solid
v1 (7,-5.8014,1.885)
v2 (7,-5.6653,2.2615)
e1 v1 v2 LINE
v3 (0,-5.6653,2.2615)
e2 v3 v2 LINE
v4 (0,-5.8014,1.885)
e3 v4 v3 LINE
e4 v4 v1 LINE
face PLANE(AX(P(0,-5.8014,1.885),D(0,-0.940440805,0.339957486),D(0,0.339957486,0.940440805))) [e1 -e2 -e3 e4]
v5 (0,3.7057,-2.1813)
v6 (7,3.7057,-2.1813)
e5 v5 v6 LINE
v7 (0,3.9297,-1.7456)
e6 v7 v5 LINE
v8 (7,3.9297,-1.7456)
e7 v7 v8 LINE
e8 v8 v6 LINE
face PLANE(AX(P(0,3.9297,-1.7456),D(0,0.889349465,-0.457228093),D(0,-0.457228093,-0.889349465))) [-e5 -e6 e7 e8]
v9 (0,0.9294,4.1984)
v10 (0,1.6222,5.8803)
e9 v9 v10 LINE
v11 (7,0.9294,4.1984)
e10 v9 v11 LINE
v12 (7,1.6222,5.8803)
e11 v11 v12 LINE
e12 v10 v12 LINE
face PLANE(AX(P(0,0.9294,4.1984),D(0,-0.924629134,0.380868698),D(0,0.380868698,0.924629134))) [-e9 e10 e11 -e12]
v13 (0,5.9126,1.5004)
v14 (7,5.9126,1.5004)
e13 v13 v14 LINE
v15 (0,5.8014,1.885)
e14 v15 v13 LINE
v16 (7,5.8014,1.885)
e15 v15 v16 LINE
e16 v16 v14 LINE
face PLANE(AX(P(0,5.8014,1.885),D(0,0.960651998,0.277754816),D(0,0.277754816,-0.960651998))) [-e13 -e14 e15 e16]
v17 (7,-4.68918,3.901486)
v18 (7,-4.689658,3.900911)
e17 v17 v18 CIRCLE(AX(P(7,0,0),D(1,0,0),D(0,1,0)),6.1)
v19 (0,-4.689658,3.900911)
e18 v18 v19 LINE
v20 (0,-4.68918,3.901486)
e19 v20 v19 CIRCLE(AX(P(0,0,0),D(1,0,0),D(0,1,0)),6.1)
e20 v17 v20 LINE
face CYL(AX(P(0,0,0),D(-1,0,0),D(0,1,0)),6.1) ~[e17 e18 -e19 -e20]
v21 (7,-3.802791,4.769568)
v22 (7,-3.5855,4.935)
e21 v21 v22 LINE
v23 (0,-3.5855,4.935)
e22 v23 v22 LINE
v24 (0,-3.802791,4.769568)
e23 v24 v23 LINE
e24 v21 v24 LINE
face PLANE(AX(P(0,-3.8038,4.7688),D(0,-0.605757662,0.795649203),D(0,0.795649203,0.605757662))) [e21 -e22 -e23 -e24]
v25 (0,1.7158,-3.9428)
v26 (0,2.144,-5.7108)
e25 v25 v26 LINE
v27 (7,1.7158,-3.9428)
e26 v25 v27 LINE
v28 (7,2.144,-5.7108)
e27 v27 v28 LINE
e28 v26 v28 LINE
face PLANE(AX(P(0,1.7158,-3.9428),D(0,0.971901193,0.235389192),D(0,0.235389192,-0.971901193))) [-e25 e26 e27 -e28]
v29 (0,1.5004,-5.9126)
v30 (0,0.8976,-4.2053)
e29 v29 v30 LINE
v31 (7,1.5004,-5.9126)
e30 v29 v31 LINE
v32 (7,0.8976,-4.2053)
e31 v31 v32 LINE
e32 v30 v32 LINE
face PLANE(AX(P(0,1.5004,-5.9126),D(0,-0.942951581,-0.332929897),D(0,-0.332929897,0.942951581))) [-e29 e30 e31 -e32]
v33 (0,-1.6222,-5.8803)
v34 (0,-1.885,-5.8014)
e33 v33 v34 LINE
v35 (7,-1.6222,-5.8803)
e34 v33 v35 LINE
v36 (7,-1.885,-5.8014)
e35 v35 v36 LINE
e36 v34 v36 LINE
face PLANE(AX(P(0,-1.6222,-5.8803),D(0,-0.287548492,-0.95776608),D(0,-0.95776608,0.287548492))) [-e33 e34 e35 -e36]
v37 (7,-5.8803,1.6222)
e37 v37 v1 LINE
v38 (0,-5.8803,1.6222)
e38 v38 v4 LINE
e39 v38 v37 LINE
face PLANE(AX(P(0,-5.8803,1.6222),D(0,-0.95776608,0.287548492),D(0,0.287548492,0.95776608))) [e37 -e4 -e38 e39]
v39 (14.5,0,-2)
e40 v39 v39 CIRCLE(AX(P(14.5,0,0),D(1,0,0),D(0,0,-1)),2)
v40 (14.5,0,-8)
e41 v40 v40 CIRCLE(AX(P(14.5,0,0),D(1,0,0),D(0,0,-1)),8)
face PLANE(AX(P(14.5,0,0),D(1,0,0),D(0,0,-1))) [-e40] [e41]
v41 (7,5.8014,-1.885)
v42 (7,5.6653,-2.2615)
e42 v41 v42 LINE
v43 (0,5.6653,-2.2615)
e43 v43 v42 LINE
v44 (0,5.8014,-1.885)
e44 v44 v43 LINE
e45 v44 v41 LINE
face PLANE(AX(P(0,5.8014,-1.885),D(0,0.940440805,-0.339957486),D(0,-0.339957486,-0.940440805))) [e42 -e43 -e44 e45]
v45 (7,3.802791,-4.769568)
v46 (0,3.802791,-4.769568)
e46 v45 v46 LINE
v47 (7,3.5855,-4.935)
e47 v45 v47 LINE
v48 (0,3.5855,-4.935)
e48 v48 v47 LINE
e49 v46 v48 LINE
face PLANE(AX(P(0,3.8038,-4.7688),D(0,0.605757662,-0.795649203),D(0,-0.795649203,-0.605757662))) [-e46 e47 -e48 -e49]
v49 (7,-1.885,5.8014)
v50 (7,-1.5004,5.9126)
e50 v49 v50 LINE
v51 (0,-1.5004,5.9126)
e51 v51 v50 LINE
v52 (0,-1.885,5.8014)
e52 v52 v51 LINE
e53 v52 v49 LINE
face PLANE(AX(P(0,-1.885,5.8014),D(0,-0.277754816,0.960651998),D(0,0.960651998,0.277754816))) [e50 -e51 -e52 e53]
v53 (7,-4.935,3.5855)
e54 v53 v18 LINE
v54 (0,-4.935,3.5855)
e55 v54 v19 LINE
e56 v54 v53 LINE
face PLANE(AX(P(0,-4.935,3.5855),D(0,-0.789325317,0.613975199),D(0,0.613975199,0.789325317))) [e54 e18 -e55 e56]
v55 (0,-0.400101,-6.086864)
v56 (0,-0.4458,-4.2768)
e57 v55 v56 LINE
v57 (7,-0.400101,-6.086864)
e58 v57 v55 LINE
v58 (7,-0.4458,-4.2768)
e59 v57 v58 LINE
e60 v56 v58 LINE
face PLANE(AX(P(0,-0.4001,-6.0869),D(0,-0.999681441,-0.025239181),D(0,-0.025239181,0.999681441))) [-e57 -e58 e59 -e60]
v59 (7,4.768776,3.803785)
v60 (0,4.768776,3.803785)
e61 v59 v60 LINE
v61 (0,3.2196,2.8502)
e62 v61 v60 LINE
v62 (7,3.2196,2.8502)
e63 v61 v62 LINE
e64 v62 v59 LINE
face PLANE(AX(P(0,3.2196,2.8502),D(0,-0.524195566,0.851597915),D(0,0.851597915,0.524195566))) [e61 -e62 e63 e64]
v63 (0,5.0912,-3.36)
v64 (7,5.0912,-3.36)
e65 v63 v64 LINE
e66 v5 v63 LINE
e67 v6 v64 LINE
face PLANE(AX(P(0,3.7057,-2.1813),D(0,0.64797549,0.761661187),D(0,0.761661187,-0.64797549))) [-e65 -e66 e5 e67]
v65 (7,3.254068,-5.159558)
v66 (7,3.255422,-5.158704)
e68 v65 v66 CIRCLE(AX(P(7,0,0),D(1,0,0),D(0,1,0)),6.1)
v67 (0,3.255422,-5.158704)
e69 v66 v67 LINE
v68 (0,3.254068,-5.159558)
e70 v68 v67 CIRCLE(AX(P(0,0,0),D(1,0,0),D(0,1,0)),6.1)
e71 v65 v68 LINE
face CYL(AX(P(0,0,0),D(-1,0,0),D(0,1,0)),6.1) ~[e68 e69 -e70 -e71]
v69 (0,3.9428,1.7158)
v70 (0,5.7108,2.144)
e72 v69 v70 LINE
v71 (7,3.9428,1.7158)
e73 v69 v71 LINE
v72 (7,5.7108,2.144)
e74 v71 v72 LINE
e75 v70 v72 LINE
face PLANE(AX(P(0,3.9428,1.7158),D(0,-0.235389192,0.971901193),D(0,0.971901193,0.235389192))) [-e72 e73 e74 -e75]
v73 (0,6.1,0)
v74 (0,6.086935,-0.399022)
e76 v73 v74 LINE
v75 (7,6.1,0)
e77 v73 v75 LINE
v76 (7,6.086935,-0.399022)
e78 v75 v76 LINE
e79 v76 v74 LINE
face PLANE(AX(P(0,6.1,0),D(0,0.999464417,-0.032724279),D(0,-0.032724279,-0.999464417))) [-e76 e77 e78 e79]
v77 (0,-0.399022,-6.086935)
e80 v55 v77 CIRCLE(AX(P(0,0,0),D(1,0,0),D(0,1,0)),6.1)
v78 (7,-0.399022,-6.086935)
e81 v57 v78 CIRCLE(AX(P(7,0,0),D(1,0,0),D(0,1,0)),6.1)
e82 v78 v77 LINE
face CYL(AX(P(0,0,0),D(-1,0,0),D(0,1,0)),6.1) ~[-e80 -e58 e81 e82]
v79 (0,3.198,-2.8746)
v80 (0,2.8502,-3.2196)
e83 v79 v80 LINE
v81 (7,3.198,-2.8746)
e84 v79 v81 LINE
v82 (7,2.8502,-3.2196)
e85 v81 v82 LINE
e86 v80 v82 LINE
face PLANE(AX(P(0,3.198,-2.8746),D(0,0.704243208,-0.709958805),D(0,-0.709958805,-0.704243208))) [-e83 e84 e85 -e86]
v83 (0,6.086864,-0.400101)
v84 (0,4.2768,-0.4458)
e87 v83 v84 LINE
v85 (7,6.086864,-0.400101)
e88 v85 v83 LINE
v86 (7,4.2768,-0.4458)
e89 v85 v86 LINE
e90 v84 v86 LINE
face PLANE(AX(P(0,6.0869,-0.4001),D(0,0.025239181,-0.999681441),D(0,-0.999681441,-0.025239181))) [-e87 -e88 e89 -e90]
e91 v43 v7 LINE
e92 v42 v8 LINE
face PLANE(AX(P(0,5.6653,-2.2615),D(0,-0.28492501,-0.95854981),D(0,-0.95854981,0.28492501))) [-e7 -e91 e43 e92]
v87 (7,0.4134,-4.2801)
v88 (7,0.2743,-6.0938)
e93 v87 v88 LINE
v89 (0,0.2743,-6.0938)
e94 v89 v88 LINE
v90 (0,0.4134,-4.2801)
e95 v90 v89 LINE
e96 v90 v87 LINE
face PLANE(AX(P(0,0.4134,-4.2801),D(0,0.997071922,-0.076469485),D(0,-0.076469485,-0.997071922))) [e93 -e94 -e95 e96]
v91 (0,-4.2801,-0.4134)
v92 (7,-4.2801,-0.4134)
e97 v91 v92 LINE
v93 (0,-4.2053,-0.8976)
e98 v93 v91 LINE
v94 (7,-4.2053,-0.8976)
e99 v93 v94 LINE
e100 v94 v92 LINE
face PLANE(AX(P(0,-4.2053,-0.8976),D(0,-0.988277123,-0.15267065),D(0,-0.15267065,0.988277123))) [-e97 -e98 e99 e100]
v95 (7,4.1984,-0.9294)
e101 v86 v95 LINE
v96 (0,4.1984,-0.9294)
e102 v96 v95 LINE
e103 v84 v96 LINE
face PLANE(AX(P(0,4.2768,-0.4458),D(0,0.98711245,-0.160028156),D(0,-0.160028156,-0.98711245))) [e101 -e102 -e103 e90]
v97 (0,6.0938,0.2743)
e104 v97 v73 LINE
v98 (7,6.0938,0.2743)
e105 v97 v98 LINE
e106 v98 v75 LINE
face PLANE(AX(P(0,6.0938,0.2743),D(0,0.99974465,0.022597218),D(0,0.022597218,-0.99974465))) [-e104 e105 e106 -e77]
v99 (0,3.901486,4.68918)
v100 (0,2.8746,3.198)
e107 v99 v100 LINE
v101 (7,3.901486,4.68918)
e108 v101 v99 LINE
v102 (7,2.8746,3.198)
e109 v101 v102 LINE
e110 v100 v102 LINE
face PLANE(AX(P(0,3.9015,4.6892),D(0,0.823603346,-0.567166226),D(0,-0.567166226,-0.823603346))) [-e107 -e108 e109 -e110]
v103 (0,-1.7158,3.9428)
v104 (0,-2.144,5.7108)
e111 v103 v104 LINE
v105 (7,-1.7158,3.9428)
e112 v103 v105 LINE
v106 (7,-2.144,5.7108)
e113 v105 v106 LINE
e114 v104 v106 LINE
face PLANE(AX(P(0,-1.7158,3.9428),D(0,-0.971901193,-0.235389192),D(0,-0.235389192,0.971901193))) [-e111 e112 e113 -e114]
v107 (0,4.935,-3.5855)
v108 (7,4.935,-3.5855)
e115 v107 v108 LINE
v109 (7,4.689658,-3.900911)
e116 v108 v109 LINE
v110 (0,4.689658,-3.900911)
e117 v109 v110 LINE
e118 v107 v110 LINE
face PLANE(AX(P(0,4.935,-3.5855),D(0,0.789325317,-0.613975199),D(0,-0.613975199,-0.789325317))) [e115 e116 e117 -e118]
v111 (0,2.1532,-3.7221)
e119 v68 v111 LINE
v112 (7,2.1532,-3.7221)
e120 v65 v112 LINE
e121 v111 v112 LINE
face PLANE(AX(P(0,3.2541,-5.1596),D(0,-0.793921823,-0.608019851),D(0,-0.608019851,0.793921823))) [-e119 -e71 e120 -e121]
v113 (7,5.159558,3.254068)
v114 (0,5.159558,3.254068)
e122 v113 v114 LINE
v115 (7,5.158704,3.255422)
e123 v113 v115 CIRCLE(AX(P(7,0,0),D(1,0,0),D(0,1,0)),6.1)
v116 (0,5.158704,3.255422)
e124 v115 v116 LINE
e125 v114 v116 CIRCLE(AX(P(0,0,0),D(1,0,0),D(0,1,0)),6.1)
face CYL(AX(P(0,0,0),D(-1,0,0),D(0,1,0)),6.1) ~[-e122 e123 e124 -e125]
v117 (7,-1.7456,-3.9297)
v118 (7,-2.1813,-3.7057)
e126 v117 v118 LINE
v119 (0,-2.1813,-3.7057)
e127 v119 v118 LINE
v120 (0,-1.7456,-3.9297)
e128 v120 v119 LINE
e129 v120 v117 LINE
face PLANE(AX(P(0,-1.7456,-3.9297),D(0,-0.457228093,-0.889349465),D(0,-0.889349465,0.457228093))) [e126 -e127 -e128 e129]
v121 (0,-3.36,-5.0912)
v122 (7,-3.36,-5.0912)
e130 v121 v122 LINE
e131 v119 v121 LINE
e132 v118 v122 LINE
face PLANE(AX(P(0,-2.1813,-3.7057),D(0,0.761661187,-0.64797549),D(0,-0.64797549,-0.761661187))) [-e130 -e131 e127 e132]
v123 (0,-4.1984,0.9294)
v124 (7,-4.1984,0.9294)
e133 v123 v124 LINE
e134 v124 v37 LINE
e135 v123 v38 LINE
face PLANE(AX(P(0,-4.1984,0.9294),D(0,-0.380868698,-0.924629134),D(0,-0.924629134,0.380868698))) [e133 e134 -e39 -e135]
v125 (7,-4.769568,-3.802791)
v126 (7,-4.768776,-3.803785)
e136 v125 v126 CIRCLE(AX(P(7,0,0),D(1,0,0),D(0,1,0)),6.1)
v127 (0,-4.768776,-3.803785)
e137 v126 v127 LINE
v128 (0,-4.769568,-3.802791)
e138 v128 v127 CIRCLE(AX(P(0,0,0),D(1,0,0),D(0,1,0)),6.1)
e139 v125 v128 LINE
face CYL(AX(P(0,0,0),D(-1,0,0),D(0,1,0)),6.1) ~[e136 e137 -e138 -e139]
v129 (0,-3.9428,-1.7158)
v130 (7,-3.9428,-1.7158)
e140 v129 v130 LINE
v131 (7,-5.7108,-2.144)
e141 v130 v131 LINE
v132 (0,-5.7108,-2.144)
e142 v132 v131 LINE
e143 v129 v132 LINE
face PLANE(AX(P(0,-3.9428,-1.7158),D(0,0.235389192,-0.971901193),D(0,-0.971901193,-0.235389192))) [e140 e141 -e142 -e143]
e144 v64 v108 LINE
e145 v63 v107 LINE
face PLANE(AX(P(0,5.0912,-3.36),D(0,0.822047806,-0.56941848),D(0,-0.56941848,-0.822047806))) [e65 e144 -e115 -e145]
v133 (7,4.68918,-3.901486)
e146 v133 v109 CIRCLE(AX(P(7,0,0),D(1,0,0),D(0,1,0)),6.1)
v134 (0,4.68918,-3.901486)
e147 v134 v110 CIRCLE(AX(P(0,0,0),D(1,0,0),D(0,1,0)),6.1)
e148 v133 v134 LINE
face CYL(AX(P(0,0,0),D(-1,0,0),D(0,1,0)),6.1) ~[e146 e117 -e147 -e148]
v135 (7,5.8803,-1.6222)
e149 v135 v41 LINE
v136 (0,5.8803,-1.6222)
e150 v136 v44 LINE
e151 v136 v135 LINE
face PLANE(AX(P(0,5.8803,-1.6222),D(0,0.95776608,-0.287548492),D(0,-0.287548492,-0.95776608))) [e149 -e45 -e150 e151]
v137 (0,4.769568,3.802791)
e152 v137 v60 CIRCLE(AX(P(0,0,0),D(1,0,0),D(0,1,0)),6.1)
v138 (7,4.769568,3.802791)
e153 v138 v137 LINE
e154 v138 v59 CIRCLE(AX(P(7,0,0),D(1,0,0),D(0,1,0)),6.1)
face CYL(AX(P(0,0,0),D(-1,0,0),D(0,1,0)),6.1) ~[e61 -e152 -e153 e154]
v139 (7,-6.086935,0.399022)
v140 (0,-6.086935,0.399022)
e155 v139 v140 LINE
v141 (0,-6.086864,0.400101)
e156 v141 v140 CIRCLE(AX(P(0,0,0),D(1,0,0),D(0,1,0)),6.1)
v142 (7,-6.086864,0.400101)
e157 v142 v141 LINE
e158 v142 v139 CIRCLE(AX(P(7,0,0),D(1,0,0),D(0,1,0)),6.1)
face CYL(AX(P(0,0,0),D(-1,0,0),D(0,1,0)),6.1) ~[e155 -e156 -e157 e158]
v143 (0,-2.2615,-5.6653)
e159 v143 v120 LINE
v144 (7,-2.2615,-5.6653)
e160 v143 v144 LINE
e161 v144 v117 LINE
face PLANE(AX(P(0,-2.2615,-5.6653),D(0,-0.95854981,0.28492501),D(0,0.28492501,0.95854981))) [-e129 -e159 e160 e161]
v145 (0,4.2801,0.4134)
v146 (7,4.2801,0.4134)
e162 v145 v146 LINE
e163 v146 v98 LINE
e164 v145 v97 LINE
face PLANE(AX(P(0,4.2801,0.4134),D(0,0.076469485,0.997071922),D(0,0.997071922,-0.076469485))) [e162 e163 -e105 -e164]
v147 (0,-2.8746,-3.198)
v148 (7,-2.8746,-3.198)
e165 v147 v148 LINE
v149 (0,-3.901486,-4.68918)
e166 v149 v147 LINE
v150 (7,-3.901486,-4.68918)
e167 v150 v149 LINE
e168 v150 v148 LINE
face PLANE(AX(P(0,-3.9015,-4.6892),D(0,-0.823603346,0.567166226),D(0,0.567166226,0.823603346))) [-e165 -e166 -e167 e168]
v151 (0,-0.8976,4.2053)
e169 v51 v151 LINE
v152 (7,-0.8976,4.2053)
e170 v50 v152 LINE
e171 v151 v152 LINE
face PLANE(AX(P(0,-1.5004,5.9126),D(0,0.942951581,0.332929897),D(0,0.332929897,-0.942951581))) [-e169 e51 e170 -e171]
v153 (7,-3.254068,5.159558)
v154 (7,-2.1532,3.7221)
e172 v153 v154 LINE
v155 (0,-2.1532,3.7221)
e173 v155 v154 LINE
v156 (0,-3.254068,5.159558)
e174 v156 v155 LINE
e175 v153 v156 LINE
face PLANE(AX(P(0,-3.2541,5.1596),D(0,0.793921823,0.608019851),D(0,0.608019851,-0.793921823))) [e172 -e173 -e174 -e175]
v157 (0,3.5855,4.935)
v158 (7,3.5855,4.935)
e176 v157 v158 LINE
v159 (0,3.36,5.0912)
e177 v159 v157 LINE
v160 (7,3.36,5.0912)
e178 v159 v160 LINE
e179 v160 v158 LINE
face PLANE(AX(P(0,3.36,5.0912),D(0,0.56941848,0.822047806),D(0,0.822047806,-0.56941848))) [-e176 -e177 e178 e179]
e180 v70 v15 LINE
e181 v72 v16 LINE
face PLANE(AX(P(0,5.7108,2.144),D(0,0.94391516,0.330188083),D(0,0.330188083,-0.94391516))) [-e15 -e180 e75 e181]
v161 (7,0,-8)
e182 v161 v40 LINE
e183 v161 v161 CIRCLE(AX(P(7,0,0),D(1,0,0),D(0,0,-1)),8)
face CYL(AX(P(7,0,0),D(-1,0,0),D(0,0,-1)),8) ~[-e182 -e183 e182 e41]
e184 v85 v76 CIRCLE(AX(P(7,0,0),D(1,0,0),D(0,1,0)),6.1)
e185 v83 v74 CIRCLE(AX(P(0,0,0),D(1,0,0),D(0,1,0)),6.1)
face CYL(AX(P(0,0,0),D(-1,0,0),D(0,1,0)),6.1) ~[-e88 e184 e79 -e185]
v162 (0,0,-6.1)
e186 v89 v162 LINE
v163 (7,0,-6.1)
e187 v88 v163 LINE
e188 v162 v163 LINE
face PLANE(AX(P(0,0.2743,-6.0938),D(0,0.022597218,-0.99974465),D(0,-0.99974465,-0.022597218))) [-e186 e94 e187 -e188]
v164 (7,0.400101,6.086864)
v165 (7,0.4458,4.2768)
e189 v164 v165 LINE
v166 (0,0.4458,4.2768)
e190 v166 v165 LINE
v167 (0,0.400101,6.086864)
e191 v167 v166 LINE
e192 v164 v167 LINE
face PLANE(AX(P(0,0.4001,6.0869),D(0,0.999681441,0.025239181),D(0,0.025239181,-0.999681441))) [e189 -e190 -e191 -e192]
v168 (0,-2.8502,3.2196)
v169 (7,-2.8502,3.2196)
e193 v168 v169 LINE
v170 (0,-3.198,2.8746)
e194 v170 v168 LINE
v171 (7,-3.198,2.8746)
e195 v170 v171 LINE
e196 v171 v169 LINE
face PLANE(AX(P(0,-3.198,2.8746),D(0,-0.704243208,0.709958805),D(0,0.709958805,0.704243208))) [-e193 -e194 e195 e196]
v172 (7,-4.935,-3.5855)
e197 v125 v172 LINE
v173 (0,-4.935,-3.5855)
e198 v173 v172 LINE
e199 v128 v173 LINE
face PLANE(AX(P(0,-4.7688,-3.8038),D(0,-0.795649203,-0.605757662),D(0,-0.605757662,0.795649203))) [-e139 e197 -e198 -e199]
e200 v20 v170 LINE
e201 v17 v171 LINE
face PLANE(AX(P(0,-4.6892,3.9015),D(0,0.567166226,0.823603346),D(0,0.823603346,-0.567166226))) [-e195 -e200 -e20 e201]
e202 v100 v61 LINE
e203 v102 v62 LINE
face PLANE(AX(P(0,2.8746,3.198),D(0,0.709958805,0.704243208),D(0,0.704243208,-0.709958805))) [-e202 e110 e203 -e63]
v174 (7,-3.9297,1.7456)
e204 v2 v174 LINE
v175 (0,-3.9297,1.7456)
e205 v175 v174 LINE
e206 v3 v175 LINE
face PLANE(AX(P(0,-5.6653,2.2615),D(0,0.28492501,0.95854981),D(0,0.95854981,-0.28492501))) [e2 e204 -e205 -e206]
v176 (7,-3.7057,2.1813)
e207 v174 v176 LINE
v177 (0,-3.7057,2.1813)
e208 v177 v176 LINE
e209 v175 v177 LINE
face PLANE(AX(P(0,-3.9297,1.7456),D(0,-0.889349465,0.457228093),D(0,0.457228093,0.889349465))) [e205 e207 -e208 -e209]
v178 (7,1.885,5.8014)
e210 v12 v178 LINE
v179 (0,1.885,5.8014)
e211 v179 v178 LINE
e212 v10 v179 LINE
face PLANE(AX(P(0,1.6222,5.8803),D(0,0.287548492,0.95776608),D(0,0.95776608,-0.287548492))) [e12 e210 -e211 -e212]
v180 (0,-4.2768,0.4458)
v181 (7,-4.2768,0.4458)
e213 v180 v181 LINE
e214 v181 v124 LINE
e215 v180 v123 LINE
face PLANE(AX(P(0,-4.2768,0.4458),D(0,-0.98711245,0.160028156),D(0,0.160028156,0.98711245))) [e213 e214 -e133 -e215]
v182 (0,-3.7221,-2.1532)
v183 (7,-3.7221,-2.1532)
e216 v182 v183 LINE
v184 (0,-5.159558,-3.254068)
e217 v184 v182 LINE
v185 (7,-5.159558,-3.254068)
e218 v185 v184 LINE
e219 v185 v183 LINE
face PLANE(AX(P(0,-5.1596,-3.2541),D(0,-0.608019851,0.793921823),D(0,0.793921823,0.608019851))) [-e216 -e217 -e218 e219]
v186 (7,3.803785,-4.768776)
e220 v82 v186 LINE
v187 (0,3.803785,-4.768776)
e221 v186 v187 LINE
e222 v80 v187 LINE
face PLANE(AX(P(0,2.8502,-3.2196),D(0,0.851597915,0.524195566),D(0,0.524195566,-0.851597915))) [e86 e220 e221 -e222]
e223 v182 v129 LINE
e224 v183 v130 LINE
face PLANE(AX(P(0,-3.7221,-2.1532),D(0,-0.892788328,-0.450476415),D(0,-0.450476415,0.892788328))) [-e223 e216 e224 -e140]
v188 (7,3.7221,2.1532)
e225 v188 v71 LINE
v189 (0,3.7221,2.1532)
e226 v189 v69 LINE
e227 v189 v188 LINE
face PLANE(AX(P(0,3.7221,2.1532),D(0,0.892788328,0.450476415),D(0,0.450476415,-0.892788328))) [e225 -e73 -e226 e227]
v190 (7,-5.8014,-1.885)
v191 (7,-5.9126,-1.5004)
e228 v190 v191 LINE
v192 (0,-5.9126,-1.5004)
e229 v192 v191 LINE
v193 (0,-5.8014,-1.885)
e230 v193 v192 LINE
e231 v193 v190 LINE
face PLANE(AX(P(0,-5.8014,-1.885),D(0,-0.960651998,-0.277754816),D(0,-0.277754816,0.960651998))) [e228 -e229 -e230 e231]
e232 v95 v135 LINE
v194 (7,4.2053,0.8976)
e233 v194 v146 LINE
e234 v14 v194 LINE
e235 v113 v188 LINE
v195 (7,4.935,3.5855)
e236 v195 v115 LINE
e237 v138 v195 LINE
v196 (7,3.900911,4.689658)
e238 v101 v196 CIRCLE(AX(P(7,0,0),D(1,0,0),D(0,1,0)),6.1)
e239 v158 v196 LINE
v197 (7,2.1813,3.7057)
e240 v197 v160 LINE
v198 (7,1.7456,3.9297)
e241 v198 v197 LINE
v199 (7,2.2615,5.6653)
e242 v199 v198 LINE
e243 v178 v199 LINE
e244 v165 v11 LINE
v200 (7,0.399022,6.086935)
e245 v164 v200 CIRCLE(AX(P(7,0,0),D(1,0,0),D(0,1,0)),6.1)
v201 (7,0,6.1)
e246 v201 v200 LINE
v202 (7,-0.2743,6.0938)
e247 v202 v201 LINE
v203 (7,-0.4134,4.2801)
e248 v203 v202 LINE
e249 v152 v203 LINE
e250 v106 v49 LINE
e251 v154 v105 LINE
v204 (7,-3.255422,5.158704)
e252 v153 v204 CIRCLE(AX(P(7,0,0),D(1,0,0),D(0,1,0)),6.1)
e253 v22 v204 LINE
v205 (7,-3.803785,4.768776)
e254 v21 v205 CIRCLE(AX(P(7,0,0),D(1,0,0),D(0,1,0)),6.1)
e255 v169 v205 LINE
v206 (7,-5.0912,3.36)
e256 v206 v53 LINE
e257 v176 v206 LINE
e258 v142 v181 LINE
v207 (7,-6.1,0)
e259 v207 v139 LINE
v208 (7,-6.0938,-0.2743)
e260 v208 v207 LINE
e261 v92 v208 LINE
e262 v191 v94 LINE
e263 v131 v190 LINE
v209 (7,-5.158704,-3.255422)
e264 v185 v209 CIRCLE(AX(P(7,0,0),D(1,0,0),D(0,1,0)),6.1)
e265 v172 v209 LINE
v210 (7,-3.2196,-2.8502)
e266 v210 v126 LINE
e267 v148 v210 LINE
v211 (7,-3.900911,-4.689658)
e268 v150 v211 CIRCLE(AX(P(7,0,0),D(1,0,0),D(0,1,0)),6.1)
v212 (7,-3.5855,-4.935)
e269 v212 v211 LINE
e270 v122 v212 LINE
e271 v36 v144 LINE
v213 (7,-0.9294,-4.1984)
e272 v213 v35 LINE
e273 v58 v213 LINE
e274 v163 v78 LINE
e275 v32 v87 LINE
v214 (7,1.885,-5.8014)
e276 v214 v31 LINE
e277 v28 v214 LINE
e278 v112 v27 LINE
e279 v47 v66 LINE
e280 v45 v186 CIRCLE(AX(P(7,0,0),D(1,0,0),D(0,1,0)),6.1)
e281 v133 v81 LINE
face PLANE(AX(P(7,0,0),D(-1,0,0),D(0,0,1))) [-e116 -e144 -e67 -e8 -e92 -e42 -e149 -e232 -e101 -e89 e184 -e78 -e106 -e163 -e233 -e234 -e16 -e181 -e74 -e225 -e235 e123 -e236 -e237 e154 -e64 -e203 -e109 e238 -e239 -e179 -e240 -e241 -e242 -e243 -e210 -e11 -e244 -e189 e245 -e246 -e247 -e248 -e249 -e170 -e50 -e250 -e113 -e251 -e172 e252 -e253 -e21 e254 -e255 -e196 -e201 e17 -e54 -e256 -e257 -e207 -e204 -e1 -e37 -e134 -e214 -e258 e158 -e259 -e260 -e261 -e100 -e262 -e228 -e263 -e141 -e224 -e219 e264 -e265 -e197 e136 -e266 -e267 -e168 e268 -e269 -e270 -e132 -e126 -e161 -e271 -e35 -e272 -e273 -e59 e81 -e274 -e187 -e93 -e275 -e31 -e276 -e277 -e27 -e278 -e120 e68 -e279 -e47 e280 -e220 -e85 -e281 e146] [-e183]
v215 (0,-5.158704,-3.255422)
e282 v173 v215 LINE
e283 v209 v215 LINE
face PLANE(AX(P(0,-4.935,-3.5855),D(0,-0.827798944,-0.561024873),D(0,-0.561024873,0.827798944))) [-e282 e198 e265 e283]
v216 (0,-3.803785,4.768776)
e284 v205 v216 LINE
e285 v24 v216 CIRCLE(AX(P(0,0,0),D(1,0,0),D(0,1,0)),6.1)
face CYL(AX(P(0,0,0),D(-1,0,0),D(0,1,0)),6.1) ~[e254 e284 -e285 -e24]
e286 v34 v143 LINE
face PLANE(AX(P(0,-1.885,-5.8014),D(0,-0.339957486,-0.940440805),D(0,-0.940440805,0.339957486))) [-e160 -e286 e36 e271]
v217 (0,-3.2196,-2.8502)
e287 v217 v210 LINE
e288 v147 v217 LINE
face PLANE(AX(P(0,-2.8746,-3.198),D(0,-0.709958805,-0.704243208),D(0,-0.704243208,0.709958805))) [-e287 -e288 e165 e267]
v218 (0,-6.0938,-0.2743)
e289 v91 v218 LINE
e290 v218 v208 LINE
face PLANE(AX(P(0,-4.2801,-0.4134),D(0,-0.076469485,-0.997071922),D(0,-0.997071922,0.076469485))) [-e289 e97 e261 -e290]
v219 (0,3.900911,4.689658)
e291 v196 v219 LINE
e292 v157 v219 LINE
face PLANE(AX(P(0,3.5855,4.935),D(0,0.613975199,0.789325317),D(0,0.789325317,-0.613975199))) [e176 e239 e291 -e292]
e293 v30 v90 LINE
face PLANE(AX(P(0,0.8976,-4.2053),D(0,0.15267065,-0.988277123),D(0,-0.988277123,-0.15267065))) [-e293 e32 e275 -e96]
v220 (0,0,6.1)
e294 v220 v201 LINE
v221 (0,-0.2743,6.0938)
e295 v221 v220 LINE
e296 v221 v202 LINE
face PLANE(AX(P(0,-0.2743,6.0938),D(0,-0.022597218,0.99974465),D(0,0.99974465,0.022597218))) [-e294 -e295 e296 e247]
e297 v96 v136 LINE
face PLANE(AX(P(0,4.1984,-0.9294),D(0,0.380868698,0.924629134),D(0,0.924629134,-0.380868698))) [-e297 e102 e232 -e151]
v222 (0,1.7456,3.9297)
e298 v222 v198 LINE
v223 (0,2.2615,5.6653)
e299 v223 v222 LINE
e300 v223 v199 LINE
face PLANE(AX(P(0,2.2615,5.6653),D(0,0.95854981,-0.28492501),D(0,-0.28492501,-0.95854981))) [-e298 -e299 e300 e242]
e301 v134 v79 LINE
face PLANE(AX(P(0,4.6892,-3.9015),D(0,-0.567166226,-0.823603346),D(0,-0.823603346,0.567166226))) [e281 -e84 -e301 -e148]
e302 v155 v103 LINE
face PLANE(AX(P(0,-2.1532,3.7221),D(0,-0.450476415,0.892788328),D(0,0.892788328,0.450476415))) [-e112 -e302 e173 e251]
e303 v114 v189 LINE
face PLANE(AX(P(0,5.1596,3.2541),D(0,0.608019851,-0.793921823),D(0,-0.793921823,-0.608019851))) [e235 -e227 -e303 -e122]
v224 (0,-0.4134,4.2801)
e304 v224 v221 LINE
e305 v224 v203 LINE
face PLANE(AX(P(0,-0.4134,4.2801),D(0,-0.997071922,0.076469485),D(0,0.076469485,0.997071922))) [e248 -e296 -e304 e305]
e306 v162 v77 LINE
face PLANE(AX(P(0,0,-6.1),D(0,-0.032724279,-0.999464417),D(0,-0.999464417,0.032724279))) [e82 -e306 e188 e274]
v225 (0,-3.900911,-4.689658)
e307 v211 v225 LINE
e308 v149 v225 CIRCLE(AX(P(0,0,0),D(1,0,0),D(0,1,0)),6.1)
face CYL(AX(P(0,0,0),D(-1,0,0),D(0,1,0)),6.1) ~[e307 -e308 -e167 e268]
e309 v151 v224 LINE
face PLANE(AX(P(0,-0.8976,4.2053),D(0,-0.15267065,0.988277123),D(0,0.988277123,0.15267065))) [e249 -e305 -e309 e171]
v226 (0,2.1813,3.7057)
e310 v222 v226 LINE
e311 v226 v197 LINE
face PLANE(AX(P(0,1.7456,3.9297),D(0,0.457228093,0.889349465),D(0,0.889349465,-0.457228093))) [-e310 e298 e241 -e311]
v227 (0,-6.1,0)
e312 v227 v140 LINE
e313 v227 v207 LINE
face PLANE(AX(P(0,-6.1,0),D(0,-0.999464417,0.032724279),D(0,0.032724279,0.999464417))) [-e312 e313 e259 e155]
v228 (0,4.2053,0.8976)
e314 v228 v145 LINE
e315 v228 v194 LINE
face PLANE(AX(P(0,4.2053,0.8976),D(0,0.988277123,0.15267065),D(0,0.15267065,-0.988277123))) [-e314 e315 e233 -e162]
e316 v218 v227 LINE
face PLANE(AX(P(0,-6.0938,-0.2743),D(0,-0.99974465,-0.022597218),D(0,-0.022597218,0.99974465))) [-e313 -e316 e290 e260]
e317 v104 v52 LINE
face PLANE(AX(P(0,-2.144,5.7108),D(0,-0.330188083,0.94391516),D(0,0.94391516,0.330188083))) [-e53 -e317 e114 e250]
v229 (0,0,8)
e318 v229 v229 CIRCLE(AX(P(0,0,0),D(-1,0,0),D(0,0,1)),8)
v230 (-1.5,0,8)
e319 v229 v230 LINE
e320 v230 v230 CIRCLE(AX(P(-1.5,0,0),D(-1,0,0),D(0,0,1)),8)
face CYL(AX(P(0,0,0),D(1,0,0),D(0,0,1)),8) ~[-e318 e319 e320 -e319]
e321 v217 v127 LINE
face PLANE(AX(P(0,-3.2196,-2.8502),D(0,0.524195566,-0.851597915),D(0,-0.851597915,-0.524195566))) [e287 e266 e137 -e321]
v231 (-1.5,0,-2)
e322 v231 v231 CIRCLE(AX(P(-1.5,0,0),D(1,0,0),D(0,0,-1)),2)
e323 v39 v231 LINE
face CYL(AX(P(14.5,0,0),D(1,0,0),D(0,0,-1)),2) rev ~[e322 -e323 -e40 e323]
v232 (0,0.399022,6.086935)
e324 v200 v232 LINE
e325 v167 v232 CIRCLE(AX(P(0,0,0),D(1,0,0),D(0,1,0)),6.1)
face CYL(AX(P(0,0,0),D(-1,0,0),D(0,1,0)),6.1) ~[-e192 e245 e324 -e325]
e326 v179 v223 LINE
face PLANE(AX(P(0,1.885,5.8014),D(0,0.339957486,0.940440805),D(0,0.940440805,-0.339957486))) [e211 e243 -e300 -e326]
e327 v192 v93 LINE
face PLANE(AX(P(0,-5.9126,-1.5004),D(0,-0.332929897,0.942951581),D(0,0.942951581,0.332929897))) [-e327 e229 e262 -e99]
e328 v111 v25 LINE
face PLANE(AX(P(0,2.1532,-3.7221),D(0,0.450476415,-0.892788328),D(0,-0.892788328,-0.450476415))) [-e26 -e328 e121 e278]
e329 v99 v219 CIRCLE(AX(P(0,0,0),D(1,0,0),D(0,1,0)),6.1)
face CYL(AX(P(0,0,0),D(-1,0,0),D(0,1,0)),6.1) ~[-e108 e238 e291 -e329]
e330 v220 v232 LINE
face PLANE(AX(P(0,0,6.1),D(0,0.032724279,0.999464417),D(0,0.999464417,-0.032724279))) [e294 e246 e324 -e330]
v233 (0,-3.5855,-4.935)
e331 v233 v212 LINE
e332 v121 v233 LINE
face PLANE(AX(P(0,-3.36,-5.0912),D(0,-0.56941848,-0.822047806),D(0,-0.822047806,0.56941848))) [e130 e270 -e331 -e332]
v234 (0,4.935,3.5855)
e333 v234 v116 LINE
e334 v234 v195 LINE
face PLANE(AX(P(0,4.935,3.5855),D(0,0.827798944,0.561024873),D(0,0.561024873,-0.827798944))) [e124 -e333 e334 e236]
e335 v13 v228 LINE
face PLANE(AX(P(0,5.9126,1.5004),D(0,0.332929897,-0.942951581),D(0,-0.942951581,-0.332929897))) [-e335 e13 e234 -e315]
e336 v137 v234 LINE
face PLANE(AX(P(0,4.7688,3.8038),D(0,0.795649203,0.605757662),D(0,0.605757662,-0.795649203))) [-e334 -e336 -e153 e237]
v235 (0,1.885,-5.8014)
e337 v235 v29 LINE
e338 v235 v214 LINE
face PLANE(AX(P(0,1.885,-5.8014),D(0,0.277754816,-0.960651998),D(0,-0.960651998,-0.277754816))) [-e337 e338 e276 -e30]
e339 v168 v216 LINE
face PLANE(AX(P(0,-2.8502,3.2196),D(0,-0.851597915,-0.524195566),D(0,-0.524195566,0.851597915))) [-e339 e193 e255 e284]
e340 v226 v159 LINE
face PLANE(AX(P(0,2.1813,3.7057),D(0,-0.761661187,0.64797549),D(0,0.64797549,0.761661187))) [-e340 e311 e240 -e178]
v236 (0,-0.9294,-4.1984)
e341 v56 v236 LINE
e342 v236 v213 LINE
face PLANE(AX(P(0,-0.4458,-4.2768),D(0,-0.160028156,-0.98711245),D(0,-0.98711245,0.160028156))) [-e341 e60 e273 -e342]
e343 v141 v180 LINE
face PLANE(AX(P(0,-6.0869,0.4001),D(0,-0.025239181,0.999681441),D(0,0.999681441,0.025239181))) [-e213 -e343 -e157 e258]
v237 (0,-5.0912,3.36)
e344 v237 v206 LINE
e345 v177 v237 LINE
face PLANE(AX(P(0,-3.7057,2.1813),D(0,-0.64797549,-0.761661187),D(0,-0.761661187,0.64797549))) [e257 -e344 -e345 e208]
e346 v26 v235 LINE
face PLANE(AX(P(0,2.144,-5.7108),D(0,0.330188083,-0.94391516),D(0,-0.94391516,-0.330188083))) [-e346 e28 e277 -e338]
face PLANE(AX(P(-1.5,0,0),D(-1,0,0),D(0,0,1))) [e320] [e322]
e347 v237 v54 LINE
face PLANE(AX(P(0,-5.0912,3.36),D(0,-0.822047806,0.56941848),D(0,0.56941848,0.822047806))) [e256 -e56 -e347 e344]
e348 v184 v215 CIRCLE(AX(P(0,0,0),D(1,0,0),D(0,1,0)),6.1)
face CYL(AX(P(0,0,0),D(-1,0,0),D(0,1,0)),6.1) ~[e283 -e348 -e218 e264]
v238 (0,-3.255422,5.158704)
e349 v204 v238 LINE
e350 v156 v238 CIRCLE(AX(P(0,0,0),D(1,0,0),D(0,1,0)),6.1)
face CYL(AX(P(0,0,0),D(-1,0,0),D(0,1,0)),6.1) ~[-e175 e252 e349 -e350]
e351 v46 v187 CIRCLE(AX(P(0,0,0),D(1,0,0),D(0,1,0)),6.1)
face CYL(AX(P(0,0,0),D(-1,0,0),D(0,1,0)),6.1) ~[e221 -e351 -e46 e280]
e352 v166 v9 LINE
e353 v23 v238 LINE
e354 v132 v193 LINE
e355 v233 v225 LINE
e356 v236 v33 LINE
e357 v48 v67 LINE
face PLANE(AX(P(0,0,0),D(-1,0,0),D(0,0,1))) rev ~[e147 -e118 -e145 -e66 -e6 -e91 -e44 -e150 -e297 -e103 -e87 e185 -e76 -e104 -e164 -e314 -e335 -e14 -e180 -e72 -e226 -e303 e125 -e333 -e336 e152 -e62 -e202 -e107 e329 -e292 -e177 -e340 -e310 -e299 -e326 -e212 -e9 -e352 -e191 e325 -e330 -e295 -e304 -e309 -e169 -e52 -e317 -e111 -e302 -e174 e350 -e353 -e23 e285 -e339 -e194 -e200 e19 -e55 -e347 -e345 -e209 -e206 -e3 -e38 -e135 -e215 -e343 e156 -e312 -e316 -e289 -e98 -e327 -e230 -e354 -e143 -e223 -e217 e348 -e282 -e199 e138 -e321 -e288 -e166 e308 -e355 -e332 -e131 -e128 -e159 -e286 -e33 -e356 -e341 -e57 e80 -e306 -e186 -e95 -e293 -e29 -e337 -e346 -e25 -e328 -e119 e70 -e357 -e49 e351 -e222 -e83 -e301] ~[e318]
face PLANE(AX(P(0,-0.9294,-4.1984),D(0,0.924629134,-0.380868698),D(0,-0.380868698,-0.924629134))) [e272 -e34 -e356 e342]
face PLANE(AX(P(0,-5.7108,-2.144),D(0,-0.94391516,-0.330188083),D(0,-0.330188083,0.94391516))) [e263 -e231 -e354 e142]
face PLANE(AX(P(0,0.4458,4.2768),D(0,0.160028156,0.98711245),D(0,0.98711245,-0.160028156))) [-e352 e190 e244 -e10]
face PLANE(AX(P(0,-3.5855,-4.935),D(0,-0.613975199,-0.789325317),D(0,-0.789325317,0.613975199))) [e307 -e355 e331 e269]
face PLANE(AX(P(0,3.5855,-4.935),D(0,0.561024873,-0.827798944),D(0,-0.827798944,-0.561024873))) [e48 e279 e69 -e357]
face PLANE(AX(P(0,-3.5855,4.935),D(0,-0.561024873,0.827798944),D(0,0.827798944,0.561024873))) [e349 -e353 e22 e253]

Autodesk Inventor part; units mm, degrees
ref_plane "YZ Plane" through (0, 0, 0) normal (1, 0, 0) x (0, 1, 0)
ref_plane "XZ Plane" through (0, 0, 0) normal (0, 1, 0) x (-1, 0, 0)
ref_plane "XY Plane" through (0, 0, 0) normal (0, 0, 1) x (1, 0, 0)
sketch "Эскиз1" plane through (0, 0, 0) normal (1, 0, 0) x (0, 1, 0)
  circle A0 centre (0, 0) radius 6.1
  dimension "d0" = 12.2
extrude "Выдавливание1" add sketch "Эскиз1" along normal blind 7
sketch "Эскиз2" plane through (7, 0, 0) normal (1, 0, 0) x (0, 0, -1)
  circle A0 centre (0, 0) radius 8
  dimension "d3" = 16
extrude "Выдавливание2" add sketch "Эскиз2" along normal blind 7.5
sketch "Эскиз3" plane through (0, 0, 0) normal (-1, 0, 0) x (0, 0, 1)
  circle A0 centre (0, 0) radius 8
  circle A1 centre (0, 0) radius 6.1 construction
  circle A2 centre (0, 0) radius 6.1 construction
  circle A3 centre (0, 0) radius 8 construction
  circle A4 centre (0, 0) radius 8 construction
  circle A5 centre (0, 0) radius 4.3 construction
  line L0 (0, 0) -> (0, 6.1) construction
  line L1 (0, 0) -> (-1.885, 5.8014) construction
  line L2 (0, 6.1) -> (-0.4001, 6.0869)
  line L3 (-0.4001, 6.0869) -> (-0.4458, 4.2768)
  line L4 (-0.4458, 4.2768) -> (-0.9294, 4.1984)
  line L5 (-0.9294, 4.1984) -> (-1.6222, 5.8803)
  line L6 (-1.6222, 5.8803) -> (-1.885, 5.8014)
  line L7 (-1.885, 5.8014) -> (-2.2615, 5.6653)
  line L8 (-2.2615, 5.6653) -> (-1.7456, 3.9297)
  line L9 (-1.7456, 3.9297) -> (-2.1813, 3.7057)
  line L10 (-2.1813, 3.7057) -> (-3.36, 5.0912)
  line L11 (-3.36, 5.0912) -> (-3.5855, 4.935)
  line L12 (-3.5855, 4.935) -> (-3.9015, 4.6892)
  line L13 (-3.9015, 4.6892) -> (-2.8746, 3.198)
  line L14 (-2.8746, 3.198) -> (-3.2196, 2.8502)
  line L15 (-3.2196, 2.8502) -> (-4.7688, 3.8038)
  line L16 (-4.7688, 3.8038) -> (-4.935, 3.5855)
  line L17 (-4.935, 3.5855) -> (-5.1596, 3.2541)
  line L18 (-5.1596, 3.2541) -> (-3.7221, 2.1532)
  line L19 (-3.7221, 2.1532) -> (-3.9428, 1.7158)
  line L20 (-3.9428, 1.7158) -> (-5.7108, 2.144)
  line L21 (-5.7108, 2.144) -> (-5.8014, 1.885)
  line L22 (-5.8014, 1.885) -> (-5.9126, 1.5004)
  line L23 (-5.9126, 1.5004) -> (-4.2053, 0.8976)
  line L24 (-4.2053, 0.8976) -> (-4.2801, 0.4134)
  line L25 (-4.2801, 0.4134) -> (-6.0938, 0.2743)
  line L26 (-6.0938, 0.2743) -> (-6.1, 0)
  line L27 (-6.1, 0) -> (-6.0869, -0.4001)
  line L28 (-6.0869, -0.4001) -> (-4.2768, -0.4458)
  line L29 (-4.2768, -0.4458) -> (-4.1984, -0.9294)
  line L30 (-4.1984, -0.9294) -> (-5.8803, -1.6222)
  line L31 (-5.8803, -1.6222) -> (-5.8014, -1.885)
  line L32 (-5.8014, -1.885) -> (-5.6653, -2.2615)
  line L33 (-5.6653, -2.2615) -> (-3.9297, -1.7456)
  line L34 (-3.9297, -1.7456) -> (-3.7057, -2.1813)
  line L35 (-3.7057, -2.1813) -> (-5.0912, -3.36)
  line L36 (-5.0912, -3.36) -> (-4.935, -3.5855)
  line L37 (-4.935, -3.5855) -> (-4.6892, -3.9015)
  line L38 (-4.6892, -3.9015) -> (-3.198, -2.8746)
  line L39 (-3.198, -2.8746) -> (-2.8502, -3.2196)
  line L40 (-2.8502, -3.2196) -> (-3.8038, -4.7688)
  line L41 (-3.8038, -4.7688) -> (-3.5855, -4.935)
  line L42 (-3.5855, -4.935) -> (-3.2541, -5.1596)
  line L43 (-3.2541, -5.1596) -> (-2.1532, -3.7221)
  line L44 (-2.1532, -3.7221) -> (-1.7158, -3.9428)
  line L45 (-1.7158, -3.9428) -> (-2.144, -5.7108)
  line L46 (-2.144, -5.7108) -> (-1.885, -5.8014)
  line L47 (-1.885, -5.8014) -> (-1.5004, -5.9126)
  line L48 (-1.5004, -5.9126) -> (-0.8976, -4.2053)
  line L49 (-0.8976, -4.2053) -> (-0.4134, -4.2801)
  line L50 (-0.4134, -4.2801) -> (-0.2743, -6.0938)
  line L51 (-0.2743, -6.0938) -> (0, -6.1)
  line L52 (0, -6.1) -> (0.4001, -6.0869)
  line L53 (0.4001, -6.0869) -> (0.4458, -4.2768)
  line L54 (0.4458, -4.2768) -> (0.9294, -4.1984)
  line L55 (0.9294, -4.1984) -> (1.6222, -5.8803)
  line L56 (1.6222, -5.8803) -> (1.885, -5.8014)
  line L57 (1.885, -5.8014) -> (2.2615, -5.6653)
  line L58 (2.2615, -5.6653) -> (1.7456, -3.9297)
  line L59 (1.7456, -3.9297) -> (2.1813, -3.7057)
  line L60 (2.1813, -3.7057) -> (3.36, -5.0912)
  line L61 (3.36, -5.0912) -> (3.5855, -4.935)
  line L62 (3.5855, -4.935) -> (3.9015, -4.6892)
  line L63 (3.9015, -4.6892) -> (2.8746, -3.198)
  line L64 (2.8746, -3.198) -> (3.2196, -2.8502)
  line L65 (3.2196, -2.8502) -> (4.7688, -3.8038)
  line L66 (4.7688, -3.8038) -> (4.935, -3.5855)
  line L67 (4.935, -3.5855) -> (5.1596, -3.2541)
  line L68 (5.1596, -3.2541) -> (3.7221, -2.1532)
  line L69 (3.7221, -2.1532) -> (3.9428, -1.7158)
  line L70 (3.9428, -1.7158) -> (5.7108, -2.144)
  line L71 (5.7108, -2.144) -> (5.8014, -1.885)
  line L72 (5.8014, -1.885) -> (5.9126, -1.5004)
  line L73 (5.9126, -1.5004) -> (4.2053, -0.8976)
  line L74 (4.2053, -0.8976) -> (4.2801, -0.4134)
  line L75 (4.2801, -0.4134) -> (6.0938, -0.2743)
  line L76 (6.0938, -0.2743) -> (6.1, 0)
  line L77 (6.1, 0) -> (6.0869, 0.4001)
  line L78 (6.0869, 0.4001) -> (4.2768, 0.4458)
  line L79 (4.2768, 0.4458) -> (4.1984, 0.9294)
  line L80 (4.1984, 0.9294) -> (5.8803, 1.6222)
  line L81 (5.8803, 1.6222) -> (5.8014, 1.885)
  line L82 (5.8014, 1.885) -> (5.6653, 2.2615)
  line L83 (5.6653, 2.2615) -> (3.9297, 1.7456)
  line L84 (3.9297, 1.7456) -> (3.7057, 2.1813)
  line L85 (3.7057, 2.1813) -> (5.0912, 3.36)
  line L86 (5.0912, 3.36) -> (4.935, 3.5855)
  line L87 (4.935, 3.5855) -> (4.6892, 3.9015)
  line L88 (4.6892, 3.9015) -> (3.198, 2.8746)
  line L89 (3.198, 2.8746) -> (2.8502, 3.2196)
  line L90 (2.8502, 3.2196) -> (3.8038, 4.7688)
  line L91 (3.8038, 4.7688) -> (3.5855, 4.935)
  line L92 (3.5855, 4.935) -> (3.2541, 5.1596)
  line L93 (3.2541, 5.1596) -> (2.1532, 3.7221)
  line L94 (2.1532, 3.7221) -> (1.7158, 3.9428)
  line L95 (1.7158, 3.9428) -> (2.144, 5.7108)
  line L96 (2.144, 5.7108) -> (1.885, 5.8014)
  line L97 (1.885, 5.8014) -> (1.5004, 5.9126)
  line L98 (1.5004, 5.9126) -> (0.8976, 4.2053)
  line L99 (0.8976, 4.2053) -> (0.4134, 4.2801)
  line L100 (0.4134, 4.2801) -> (0.2743, 6.0938)
  line L101 (0.2743, 6.0938) -> (0, 6.1)
  circle A6 centre (0, 0) radius 6.909
  dimension "d6" = 16
  dimension "d12" = 8.6
  dimension "d13" = 18
  dimension "d16" = 360
extrude "Выдавливание3" add sketch "Эскиз3" along normal blind 1.5 contours A0 | L101 L100 L99 L98 L97 L96 L95 L94 L93 L92 L91 L90 L89 L88 L87 L86 L85 L84 L83 L82 L81 L80 L79 L78 L77 L76 L75 L74 L73 L72 L71 L70 L69 L68 L67 L66 L65 L64 L63 L62 L61 L60 L59 L58 L57 L56 L55 L54 L53 L52 L51 L50 L49 L48 L47 L46 L45 L44 L43 L42 L41 L40 L39 L38 L37 L36 L35 L34 L33 L32 L31 L30 L29 L28 L27 L26 L25 L24 L23 L22 L21 L20 L19 L18 L17 L16 L15 L14 L13 L12 L11 L10 L9 L8 L7 L6 L5 L4 L3 L2 | A6
sketch "Эскиз4" plane through (14.5, 0, 0) normal (1, 0, 0) x (0, 0, -1)
  circle A0 centre (0, 0) radius 2
  dimension "d9" = 4
extrude "Выдавливание4" cut sketch "Эскиз4" against normal up to surface (16 mm away)
extrude "Выдавливание5" cut sketch "Эскиз3" against normal up to surface (7 mm away) contours A6
properties part number "gear_20"
